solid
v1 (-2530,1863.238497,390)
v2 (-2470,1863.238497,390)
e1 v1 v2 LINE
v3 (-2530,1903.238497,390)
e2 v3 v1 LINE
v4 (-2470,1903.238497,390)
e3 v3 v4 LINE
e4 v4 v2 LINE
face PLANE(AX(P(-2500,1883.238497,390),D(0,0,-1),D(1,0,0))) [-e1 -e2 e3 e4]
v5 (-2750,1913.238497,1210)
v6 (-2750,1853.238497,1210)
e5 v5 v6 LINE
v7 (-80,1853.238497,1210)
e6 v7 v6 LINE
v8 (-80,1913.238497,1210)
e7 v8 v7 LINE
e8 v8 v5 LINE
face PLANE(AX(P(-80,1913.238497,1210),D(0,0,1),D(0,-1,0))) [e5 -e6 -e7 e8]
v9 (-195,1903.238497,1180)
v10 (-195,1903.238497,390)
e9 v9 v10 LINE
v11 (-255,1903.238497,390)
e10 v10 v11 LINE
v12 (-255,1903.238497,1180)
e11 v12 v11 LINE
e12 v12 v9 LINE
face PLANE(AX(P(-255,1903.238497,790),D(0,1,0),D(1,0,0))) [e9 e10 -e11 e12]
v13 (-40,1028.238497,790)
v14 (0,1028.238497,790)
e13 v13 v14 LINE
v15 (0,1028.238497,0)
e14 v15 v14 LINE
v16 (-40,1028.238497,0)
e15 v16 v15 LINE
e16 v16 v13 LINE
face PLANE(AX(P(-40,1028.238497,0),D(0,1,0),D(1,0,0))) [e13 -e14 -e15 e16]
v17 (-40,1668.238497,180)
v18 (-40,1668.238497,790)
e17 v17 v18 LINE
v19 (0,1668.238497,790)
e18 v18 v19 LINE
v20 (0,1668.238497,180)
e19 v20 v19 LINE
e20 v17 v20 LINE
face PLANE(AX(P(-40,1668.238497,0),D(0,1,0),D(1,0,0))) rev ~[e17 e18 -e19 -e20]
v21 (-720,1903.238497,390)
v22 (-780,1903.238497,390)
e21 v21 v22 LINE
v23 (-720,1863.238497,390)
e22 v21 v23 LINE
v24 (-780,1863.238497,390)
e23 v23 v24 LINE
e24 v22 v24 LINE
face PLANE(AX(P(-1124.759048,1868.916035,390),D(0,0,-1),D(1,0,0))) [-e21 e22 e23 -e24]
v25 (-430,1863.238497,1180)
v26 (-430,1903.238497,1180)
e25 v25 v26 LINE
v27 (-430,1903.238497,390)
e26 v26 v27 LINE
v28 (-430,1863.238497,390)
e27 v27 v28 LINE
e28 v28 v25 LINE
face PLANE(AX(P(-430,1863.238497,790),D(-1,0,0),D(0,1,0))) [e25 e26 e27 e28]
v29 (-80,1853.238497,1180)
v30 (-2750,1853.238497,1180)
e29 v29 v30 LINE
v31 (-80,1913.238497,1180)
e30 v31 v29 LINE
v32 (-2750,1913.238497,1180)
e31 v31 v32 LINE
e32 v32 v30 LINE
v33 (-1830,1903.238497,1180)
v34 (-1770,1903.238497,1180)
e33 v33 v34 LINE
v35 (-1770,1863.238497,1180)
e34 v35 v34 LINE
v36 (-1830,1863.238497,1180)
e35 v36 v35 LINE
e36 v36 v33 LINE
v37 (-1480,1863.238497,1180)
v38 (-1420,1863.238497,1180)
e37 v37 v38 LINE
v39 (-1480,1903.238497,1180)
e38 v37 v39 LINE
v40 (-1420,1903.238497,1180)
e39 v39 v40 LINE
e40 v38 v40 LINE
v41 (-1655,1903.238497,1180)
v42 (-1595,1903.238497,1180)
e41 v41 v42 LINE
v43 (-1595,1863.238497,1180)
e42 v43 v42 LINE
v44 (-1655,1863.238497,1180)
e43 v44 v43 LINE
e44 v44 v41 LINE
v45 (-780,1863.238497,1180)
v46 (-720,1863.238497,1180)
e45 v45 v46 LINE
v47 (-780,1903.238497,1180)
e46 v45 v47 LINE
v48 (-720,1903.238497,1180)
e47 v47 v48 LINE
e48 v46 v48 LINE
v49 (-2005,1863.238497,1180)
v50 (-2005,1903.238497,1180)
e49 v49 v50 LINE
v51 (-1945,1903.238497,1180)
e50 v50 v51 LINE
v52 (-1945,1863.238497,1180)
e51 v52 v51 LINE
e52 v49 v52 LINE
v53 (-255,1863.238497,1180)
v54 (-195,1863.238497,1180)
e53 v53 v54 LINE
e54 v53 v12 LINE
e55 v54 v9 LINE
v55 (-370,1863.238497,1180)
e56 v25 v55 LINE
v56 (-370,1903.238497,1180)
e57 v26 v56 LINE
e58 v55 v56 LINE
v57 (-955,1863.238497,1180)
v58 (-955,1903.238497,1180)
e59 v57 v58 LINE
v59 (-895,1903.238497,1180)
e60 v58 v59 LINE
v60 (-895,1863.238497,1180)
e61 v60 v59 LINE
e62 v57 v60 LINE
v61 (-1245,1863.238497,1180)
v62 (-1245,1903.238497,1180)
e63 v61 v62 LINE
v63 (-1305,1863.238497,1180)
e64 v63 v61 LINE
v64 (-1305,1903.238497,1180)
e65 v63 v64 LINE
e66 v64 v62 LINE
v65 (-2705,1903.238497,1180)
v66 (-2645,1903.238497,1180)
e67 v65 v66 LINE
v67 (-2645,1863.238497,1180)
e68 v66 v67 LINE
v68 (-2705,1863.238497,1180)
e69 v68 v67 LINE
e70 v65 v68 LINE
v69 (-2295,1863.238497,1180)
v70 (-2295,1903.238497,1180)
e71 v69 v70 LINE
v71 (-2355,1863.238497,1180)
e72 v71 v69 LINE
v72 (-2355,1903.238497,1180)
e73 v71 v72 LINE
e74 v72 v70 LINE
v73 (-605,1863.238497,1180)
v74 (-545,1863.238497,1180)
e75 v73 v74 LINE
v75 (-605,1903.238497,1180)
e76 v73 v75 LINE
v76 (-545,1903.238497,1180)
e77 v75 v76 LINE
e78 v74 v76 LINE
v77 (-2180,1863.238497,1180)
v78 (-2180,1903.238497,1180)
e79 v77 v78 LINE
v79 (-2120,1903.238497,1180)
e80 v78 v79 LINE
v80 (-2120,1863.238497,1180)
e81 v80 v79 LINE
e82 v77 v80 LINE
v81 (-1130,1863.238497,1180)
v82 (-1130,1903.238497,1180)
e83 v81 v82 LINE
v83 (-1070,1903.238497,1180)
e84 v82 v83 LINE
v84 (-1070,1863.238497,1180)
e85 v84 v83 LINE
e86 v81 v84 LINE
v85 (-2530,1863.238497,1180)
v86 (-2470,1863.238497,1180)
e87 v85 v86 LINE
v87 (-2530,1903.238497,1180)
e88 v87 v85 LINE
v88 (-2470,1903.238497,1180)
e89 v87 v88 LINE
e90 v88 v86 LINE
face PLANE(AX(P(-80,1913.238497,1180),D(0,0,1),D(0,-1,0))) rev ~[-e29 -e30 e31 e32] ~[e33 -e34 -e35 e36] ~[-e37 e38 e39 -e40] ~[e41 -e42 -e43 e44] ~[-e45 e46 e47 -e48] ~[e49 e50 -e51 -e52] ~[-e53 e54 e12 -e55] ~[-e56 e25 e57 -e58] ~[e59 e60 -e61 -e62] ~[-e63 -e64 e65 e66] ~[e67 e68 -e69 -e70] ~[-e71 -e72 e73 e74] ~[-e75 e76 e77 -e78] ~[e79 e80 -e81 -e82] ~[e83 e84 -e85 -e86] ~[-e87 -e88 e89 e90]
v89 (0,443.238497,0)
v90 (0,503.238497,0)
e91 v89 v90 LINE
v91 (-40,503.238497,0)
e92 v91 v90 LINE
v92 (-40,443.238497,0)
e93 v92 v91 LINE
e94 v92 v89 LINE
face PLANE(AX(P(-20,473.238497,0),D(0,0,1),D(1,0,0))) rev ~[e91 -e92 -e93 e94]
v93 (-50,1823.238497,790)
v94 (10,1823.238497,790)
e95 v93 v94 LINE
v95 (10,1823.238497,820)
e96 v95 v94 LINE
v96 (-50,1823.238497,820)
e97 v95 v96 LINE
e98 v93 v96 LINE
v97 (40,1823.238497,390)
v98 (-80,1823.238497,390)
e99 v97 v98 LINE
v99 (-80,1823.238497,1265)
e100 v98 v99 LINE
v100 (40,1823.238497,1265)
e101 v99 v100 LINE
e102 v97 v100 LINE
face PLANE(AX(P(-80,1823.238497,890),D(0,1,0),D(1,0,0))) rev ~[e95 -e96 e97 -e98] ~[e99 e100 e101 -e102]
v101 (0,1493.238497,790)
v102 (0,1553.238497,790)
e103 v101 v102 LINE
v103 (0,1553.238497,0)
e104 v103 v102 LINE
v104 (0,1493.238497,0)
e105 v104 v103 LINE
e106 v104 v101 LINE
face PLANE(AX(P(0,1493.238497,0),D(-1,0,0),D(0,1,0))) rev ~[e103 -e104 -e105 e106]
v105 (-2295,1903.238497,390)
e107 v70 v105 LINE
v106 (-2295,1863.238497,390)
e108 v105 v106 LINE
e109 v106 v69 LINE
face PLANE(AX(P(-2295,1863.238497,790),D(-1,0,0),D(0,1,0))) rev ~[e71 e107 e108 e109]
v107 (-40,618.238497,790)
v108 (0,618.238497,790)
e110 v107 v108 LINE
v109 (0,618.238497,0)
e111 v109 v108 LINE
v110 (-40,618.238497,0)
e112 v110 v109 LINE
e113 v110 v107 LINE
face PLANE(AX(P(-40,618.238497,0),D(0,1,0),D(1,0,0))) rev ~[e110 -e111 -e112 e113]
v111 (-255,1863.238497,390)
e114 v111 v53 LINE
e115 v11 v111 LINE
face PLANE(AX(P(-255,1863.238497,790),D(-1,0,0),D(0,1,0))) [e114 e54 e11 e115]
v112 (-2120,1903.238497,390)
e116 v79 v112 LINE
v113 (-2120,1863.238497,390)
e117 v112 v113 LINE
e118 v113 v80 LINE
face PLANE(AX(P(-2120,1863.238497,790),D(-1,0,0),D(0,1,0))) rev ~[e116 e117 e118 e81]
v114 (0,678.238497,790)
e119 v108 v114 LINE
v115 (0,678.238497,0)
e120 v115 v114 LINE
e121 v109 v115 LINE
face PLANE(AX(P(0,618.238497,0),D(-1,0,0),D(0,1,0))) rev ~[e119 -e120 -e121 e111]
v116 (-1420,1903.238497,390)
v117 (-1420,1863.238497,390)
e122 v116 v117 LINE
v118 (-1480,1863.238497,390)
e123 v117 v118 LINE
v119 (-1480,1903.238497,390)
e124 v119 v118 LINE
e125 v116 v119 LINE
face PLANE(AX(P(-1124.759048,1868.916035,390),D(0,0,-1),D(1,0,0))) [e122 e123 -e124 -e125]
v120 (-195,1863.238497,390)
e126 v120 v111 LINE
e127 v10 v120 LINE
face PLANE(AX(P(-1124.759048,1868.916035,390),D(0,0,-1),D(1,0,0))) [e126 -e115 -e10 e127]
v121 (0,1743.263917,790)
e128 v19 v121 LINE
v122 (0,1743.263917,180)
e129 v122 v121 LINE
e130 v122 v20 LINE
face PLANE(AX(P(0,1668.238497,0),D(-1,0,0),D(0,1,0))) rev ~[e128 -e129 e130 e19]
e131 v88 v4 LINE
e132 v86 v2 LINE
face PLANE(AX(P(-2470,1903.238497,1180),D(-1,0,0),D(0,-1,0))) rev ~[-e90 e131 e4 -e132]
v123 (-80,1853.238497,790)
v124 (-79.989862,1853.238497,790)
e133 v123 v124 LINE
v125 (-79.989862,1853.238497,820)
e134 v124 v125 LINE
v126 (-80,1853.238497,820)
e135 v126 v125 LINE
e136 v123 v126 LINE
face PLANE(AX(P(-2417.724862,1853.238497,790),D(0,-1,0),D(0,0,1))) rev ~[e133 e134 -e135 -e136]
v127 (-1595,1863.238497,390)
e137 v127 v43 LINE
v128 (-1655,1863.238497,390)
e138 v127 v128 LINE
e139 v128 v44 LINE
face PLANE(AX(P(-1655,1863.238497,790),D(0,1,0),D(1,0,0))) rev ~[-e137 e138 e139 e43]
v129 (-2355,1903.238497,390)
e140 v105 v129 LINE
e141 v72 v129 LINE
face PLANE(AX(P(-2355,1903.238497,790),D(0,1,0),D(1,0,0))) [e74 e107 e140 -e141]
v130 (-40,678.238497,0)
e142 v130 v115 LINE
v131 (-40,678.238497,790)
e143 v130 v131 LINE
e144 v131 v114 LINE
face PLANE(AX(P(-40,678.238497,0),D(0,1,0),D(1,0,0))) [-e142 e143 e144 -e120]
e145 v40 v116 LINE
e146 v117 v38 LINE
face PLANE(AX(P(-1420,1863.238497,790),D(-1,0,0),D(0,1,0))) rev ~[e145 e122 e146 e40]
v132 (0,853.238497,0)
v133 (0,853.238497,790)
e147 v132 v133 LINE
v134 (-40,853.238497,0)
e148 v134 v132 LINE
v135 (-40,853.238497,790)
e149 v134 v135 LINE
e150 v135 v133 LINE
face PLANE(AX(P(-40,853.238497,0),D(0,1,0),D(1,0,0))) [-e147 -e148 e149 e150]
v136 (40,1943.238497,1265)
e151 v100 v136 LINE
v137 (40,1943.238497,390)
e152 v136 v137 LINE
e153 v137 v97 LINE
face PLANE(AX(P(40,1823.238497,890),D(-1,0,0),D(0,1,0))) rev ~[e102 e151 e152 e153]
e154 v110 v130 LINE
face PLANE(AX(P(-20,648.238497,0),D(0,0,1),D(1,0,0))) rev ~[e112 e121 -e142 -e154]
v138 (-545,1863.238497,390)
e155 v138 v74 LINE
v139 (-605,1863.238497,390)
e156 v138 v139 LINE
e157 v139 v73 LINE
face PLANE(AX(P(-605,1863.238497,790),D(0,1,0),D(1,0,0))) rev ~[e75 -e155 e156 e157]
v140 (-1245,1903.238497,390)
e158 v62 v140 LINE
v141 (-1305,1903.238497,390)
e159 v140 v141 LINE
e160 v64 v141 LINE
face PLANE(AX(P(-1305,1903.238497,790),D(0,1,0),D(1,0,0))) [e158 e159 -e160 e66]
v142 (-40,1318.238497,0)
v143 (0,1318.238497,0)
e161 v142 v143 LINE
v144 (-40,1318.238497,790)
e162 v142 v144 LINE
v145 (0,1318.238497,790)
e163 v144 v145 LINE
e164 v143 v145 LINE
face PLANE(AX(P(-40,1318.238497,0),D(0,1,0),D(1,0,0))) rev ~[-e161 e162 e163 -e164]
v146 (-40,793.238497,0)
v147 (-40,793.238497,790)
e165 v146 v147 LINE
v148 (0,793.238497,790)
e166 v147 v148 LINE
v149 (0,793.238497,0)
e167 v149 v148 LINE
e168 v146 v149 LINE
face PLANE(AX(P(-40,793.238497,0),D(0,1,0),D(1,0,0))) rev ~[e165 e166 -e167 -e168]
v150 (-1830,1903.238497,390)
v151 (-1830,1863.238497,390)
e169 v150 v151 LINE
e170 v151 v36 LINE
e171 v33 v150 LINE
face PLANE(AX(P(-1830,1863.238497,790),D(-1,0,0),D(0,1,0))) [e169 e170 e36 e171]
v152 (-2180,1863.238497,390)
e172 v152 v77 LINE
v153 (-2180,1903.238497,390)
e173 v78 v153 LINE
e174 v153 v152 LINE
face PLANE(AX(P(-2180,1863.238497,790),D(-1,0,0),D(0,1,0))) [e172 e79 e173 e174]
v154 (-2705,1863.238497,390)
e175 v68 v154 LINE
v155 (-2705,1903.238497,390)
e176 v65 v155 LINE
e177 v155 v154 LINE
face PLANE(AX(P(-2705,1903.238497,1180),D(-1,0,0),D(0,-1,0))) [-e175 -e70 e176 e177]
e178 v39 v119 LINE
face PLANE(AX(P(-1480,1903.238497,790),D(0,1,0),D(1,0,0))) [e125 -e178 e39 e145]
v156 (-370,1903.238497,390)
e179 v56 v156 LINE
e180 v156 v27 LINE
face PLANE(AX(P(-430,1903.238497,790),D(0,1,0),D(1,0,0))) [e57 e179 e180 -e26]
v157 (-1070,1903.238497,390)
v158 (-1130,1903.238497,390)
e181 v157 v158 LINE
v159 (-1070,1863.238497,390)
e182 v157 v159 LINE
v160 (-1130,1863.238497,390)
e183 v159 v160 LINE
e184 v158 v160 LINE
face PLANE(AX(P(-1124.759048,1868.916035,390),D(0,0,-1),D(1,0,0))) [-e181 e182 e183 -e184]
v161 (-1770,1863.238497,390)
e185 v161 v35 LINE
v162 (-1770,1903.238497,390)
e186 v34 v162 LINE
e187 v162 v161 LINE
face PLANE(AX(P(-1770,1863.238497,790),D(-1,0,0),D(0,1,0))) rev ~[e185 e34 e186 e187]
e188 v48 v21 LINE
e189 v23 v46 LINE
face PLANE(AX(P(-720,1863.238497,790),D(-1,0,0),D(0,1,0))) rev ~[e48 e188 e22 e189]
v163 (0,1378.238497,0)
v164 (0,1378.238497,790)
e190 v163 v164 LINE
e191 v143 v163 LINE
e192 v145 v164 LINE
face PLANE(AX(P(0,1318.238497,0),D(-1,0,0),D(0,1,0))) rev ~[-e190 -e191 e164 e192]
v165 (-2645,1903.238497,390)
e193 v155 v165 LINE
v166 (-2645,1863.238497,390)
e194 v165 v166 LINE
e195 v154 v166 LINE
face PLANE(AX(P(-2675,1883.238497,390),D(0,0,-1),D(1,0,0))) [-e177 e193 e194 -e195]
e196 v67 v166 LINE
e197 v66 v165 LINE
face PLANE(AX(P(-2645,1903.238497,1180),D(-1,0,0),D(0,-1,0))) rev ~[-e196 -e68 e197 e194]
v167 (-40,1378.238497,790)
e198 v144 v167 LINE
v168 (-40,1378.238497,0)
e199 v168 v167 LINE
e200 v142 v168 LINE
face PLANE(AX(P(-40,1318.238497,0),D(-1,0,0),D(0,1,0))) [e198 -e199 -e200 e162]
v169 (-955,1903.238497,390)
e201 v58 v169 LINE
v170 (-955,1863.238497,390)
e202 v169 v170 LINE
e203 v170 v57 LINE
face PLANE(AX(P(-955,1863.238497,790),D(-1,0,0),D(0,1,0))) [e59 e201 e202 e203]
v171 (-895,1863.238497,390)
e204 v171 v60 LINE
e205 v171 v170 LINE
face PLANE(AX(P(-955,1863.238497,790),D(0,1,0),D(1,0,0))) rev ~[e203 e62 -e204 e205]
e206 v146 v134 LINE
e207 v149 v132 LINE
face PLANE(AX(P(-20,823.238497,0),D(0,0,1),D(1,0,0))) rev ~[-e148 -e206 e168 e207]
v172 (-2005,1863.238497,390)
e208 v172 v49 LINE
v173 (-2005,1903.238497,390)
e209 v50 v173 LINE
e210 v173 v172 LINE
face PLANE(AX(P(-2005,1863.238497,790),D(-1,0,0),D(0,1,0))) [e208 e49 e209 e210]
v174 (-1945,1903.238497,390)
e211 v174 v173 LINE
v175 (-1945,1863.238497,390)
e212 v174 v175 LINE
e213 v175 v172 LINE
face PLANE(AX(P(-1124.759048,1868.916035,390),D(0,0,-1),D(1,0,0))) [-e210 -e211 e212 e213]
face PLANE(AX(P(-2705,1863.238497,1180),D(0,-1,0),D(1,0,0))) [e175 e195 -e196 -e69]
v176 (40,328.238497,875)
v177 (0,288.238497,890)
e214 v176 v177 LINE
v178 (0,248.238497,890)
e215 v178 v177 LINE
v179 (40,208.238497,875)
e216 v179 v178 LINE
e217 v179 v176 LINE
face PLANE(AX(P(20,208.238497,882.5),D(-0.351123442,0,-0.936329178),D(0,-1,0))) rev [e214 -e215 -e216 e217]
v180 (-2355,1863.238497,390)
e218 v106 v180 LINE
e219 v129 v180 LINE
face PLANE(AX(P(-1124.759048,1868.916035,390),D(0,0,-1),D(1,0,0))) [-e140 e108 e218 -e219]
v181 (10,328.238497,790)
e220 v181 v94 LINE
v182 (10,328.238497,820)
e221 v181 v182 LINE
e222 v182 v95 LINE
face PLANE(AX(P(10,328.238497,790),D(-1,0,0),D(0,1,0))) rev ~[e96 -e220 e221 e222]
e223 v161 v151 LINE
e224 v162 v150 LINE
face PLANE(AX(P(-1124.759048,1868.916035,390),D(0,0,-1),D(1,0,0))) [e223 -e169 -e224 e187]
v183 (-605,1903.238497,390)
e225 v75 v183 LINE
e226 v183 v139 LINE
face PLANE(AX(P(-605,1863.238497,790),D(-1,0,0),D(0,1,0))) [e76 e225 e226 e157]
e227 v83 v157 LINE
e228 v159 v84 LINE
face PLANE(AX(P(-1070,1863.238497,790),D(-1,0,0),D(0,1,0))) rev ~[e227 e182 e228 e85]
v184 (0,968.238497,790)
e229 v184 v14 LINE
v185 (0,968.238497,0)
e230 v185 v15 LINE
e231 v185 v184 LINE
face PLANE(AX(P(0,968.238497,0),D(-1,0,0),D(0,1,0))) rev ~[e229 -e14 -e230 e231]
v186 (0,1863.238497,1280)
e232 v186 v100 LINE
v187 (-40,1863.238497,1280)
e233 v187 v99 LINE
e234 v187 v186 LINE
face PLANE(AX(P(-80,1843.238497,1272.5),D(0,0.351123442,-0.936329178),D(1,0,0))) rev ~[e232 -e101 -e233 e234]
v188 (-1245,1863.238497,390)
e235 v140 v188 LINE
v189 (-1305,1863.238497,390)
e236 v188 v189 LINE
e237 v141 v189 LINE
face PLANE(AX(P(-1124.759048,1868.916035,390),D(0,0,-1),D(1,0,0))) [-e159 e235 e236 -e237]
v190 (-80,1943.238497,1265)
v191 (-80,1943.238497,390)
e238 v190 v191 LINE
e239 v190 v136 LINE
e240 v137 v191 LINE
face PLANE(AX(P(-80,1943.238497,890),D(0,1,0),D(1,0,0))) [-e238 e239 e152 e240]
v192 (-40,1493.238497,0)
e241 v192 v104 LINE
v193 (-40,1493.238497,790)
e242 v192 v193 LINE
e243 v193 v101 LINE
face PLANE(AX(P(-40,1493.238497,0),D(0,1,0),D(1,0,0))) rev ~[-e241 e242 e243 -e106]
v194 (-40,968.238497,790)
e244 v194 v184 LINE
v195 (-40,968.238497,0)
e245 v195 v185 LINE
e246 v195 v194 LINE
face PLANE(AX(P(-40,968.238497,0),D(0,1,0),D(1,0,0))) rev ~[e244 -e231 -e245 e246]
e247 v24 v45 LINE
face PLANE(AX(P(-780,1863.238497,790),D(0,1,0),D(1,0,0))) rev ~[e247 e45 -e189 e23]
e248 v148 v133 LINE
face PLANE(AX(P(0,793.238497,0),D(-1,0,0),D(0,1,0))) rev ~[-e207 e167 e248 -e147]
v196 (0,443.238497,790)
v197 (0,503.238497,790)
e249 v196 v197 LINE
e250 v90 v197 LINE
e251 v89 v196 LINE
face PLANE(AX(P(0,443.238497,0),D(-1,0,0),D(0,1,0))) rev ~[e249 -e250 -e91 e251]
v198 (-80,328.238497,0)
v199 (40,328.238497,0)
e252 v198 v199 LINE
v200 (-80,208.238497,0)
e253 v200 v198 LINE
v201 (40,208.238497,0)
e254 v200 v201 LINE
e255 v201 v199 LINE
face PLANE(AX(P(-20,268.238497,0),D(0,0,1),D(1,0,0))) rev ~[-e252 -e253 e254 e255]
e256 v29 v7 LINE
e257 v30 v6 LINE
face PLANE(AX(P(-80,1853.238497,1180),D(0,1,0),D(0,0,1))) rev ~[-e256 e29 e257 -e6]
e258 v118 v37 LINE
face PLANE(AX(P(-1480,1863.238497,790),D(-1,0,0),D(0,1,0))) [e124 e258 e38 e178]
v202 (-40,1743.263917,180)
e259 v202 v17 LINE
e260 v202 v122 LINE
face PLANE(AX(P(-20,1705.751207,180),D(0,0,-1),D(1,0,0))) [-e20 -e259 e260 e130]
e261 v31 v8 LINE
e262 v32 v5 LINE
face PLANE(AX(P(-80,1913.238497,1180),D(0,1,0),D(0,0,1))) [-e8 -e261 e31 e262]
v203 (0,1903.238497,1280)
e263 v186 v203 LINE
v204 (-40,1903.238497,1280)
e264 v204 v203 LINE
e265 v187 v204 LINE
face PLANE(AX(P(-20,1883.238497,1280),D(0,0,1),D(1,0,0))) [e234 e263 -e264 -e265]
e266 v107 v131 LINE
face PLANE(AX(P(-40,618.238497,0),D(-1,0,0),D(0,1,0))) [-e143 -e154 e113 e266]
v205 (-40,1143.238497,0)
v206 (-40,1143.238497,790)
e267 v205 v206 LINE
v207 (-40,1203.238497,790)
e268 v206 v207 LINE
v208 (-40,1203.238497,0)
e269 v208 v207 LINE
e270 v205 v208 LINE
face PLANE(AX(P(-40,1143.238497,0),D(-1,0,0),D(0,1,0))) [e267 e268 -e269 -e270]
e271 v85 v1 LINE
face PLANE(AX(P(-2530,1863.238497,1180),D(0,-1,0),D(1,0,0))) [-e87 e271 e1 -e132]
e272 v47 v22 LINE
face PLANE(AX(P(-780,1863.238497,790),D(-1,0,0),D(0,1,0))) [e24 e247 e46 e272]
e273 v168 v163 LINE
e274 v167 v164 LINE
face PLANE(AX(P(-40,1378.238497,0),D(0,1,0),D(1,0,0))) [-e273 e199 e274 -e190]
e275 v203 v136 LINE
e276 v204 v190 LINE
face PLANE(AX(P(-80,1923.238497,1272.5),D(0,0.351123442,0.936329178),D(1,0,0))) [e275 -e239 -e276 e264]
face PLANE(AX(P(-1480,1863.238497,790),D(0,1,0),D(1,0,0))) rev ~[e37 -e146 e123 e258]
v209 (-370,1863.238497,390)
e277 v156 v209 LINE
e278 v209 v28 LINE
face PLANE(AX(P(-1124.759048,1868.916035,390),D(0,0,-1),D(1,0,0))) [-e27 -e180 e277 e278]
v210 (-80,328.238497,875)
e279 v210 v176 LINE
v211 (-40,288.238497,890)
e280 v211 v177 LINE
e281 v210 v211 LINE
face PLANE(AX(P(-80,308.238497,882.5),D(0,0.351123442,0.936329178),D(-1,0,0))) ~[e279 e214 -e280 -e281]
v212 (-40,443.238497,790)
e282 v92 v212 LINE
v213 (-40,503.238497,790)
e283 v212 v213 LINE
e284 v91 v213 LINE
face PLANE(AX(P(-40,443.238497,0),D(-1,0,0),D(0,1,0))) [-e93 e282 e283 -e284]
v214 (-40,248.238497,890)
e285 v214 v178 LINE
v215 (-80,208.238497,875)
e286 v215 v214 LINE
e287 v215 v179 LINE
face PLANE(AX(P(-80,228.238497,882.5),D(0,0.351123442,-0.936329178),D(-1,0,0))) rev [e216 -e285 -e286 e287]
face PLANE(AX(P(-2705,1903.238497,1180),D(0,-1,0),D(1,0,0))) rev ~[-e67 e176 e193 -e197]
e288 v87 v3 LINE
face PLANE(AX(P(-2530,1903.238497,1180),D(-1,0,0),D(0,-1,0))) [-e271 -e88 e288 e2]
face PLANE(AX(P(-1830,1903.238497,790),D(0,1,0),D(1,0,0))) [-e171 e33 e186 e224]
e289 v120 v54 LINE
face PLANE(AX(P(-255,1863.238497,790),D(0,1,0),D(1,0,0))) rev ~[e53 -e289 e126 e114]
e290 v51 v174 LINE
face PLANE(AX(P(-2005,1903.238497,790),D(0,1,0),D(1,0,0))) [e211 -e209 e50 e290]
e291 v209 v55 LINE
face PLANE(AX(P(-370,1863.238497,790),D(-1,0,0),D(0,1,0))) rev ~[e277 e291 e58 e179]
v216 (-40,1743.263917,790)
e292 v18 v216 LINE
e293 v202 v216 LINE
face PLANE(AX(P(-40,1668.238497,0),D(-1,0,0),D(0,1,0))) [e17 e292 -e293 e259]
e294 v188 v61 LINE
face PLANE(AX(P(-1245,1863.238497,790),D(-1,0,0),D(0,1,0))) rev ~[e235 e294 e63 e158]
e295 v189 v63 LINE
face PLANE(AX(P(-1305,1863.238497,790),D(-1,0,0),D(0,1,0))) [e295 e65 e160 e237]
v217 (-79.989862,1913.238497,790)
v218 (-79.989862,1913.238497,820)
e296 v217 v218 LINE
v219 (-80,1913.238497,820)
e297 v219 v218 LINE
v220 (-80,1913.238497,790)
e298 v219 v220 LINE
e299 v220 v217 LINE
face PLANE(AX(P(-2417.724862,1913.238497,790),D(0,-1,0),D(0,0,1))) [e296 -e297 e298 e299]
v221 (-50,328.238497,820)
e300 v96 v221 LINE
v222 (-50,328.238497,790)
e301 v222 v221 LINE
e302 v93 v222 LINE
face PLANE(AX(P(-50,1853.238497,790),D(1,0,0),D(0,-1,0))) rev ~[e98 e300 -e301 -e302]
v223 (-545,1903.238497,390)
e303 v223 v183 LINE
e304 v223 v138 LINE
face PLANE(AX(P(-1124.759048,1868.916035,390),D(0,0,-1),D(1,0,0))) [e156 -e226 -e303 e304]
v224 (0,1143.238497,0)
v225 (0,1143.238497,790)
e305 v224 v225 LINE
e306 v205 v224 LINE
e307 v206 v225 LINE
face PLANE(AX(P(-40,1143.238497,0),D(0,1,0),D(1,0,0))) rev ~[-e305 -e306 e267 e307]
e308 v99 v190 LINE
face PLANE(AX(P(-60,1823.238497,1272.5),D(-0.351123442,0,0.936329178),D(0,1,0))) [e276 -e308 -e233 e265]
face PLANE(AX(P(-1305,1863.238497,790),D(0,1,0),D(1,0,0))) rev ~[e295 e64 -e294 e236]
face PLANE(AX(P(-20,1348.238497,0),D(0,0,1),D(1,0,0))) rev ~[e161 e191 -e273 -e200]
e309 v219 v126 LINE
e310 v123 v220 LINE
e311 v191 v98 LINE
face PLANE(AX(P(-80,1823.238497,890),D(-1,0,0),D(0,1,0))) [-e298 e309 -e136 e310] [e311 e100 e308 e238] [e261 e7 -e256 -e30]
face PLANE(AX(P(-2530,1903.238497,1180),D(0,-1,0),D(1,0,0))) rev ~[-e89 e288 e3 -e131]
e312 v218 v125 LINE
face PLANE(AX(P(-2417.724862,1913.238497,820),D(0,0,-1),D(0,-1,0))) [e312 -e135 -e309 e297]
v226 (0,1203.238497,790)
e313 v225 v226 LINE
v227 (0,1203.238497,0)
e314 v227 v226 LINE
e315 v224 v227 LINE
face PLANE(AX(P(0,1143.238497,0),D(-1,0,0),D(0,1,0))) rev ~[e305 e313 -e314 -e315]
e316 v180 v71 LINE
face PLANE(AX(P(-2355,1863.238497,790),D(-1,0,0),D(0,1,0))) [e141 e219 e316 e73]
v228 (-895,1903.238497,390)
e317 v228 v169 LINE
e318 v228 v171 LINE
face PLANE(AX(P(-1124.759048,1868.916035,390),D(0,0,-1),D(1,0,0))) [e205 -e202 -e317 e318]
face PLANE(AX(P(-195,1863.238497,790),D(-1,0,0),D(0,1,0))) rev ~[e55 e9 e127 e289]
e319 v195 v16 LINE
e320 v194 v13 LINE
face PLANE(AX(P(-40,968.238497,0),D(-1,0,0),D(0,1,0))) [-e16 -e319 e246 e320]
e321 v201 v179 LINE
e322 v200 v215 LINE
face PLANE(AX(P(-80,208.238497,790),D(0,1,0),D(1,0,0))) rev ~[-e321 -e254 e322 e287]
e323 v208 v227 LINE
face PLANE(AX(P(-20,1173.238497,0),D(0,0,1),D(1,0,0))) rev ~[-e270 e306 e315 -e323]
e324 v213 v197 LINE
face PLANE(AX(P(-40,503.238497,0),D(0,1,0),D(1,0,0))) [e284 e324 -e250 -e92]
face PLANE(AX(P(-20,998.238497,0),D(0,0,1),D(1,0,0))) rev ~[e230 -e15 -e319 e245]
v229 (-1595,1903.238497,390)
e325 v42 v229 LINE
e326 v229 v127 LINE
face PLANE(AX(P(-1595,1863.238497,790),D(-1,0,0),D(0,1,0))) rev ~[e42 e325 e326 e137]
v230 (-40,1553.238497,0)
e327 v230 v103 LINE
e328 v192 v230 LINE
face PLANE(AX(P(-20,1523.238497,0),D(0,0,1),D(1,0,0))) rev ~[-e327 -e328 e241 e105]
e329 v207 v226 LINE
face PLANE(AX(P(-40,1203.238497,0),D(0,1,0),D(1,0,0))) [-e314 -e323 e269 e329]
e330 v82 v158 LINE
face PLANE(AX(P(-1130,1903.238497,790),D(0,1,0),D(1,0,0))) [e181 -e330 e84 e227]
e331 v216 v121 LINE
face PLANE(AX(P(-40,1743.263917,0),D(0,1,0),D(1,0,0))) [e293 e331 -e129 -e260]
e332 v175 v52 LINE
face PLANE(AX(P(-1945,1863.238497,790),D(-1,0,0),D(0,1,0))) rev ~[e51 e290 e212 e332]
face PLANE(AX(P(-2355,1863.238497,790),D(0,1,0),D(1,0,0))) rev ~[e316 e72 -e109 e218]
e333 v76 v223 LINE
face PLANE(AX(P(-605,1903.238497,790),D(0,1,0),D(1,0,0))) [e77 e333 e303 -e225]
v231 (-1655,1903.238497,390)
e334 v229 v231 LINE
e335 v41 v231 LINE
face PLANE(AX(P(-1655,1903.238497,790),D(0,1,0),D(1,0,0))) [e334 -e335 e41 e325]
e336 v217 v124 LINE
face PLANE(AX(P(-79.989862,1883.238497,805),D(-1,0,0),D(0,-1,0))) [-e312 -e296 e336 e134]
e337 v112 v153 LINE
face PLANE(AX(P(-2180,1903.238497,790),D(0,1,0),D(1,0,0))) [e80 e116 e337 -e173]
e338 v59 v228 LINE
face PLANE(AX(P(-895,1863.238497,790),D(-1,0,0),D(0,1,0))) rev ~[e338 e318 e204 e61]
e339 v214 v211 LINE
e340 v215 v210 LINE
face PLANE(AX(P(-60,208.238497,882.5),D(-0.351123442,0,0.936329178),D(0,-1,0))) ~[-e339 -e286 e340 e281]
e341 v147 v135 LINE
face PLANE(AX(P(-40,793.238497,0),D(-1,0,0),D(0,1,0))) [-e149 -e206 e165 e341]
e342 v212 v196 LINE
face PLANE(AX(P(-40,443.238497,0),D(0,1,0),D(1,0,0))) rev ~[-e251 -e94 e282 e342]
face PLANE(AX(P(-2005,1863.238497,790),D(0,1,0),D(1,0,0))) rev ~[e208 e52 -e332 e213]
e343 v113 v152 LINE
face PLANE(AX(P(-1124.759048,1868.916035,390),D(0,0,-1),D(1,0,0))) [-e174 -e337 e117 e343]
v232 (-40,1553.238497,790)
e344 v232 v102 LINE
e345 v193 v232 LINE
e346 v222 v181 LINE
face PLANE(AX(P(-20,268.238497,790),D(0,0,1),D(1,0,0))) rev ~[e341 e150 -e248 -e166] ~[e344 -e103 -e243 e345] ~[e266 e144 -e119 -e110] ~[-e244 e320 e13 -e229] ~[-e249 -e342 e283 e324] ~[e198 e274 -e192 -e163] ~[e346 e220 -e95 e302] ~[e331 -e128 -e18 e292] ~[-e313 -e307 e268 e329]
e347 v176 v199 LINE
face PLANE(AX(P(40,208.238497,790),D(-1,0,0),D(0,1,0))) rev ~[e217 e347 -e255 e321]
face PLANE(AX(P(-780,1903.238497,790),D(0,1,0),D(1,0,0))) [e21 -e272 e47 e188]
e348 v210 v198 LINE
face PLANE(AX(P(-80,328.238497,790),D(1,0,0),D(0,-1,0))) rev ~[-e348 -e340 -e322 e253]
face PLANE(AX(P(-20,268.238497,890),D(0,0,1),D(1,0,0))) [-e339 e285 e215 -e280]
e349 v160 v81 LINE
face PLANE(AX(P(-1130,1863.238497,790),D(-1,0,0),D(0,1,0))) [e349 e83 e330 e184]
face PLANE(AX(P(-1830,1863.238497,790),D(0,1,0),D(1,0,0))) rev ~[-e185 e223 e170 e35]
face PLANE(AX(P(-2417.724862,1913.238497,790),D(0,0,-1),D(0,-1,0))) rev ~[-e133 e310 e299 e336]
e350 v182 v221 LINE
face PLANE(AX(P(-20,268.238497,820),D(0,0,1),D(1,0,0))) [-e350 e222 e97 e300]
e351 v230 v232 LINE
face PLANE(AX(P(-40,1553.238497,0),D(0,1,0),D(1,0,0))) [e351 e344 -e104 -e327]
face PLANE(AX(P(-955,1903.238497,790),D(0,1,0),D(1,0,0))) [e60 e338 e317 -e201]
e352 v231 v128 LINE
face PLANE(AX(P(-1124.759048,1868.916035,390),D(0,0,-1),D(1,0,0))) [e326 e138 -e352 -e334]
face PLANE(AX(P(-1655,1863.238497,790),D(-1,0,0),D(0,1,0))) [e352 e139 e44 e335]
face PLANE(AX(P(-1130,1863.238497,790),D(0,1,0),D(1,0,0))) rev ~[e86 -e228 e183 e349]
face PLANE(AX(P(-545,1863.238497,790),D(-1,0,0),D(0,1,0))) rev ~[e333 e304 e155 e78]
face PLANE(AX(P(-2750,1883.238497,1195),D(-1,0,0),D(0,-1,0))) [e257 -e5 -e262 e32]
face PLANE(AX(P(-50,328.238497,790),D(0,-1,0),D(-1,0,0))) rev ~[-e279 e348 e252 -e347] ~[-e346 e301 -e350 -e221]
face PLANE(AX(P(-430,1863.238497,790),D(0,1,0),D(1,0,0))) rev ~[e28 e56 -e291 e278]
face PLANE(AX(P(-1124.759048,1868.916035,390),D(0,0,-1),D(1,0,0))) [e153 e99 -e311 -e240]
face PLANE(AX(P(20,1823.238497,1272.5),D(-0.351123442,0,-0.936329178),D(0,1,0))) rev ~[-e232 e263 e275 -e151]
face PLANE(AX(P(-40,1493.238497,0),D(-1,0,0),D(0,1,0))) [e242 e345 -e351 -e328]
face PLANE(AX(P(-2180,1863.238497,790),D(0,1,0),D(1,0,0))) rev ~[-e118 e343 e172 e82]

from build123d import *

# Parameters (mm, degrees)
F0_W      = 60
F0_H      = 40
F1_DEPTH  = 790
F0_W_2    = 40
F0_H_2    = 75.0254201889
F0_H_3    = 60
F0_W_3    = 120
F0_H_4    = 120
F3_DEPTH  = 30
F4_W      = 120
F4_H      = 120
F5_DEPTH  = 100
F6_SIZE2  = 40
F6_SIZE   = 15
F8_W      = 2854.2961788441
F8_H      = 160
F8_W_2    = 60
F8_H_2    = 40
F9_DEPTH  = 390
F10_W     = 40
F10_H     = 75.0254201889
F11_DEPTH = 180
F12_W     = 120
F12_H     = 120
F13_DEPTH = 390
F14_SIZE2 = 15
F14_SIZE  = 40
F15_W     = 60
F15_H     = 30
F16_DEPTH = 2337.735
F17_W     = 60
F17_H     = 40
F18_DEPTH = 390
F19_W     = 60
F19_H     = 30
F20_DEPTH = 2670
F21_W     = 60
F21_H     = 40
F22_DEPTH = 790


with BuildPart() as f1:
    # F0 (on Top) → F1 (new body)
    with BuildSketch(Plane.XY):
        with Locations((-2325, 1883.2384967804)):
            Rectangle(F0_W, F0_H)
    extrude(amount=F1_DEPTH)


with BuildPart() as f1b:
    # F0 (on Top) → F1, piece 2 (new body)
    with BuildSketch(Plane.XY):
        with Locations((-2150, 1883.2384967804)):
            Rectangle(F0_W, F0_H)
    extrude(amount=F1_DEPTH)


with BuildPart() as f1c:
    # F0 (on Top) → F1, piece 3 (new body)
    with BuildSketch(Plane.XY):
        with Locations((-1975, 1883.2384967804)):
            Rectangle(F0_W, F0_H)
    extrude(amount=F1_DEPTH)


with BuildPart() as f1d:
    # F0 (on Top) → F1, piece 4 (new body)
    with BuildSketch(Plane.XY):
        with Locations((-1800, 1883.2384967804)):
            Rectangle(F0_W, F0_H)
    extrude(amount=F1_DEPTH)


with BuildPart() as f1e:
    # F0 (on Top) → F1, piece 5 (new body)
    with BuildSketch(Plane.XY):
        with Locations((-1625, 1883.2384967804)):
            Rectangle(F0_W, F0_H)
    extrude(amount=F1_DEPTH)


with BuildPart() as f1f:
    # F0 (on Top) → F1, piece 6 (new body)
    with BuildSketch(Plane.XY):
        with Locations((-1450, 1883.2384967804)):
            Rectangle(F0_W, F0_H)
    extrude(amount=F1_DEPTH)


with BuildPart() as f1g:
    # F0 (on Top) → F1, piece 7 (new body)
    with BuildSketch(Plane.XY):
        with Locations((-1275, 1883.2384967804)):
            Rectangle(F0_W, F0_H)
    extrude(amount=F1_DEPTH)


with BuildPart() as f1h:
    # F0 (on Top) → F1, piece 8 (new body)
    with BuildSketch(Plane.XY):
        with Locations((-1100, 1883.2384967804)):
            Rectangle(F0_W, F0_H)
    extrude(amount=F1_DEPTH)


with BuildPart() as f1i:
    # F0 (on Top) → F1, piece 9 (new body)
    with BuildSketch(Plane.XY):
        with Locations((-925, 1883.2384967804)):
            Rectangle(F0_W, F0_H)
    extrude(amount=F1_DEPTH)


with BuildPart() as f1j:
    # F0 (on Top) → F1, piece 10 (new body)
    with BuildSketch(Plane.XY):
        with Locations((-750, 1883.2384967804)):
            Rectangle(F0_W, F0_H)
    extrude(amount=F1_DEPTH)


with BuildPart() as f1k:
    # F0 (on Top) → F1, piece 11 (new body)
    with BuildSketch(Plane.XY):
        with Locations((-575, 1883.2384967804)):
            Rectangle(F0_W, F0_H)
    extrude(amount=F1_DEPTH)


with BuildPart() as f1l:
    # F0 (on Top) → F1, piece 12 (new body)
    with BuildSketch(Plane.XY):
        with Locations((-400, 1883.2384967804)):
            Rectangle(F0_W, F0_H)
    extrude(amount=F1_DEPTH)


with BuildPart() as f1m:
    # F0 (on Top) → F1, piece 13 (new body)
    with BuildSketch(Plane.XY):
        with Locations((-225, 1883.2384967804)):
            Rectangle(F0_W, F0_H)
    extrude(amount=F1_DEPTH)


with BuildPart() as f1n:
    # F0 (on Top) → F1, piece 14 (new body)
    with BuildSketch(Plane.XY):
        with Locations((-20, 1705.7512068748)):
            Rectangle(F0_W_2, F0_H_2)
    extrude(amount=F1_DEPTH)


with BuildPart() as f1o:
    # F0 (on Top) → F1, piece 15 (new body)
    with BuildSketch(Plane.XY):
        with Locations((-20, 1523.2384967804)):
            Rectangle(F0_W_2, F0_H_3)
    extrude(amount=F1_DEPTH)


with BuildPart() as f1p:
    # F0 (on Top) → F1, piece 16 (new body)
    with BuildSketch(Plane.XY):
        with Locations((-20, 1348.2384967804)):
            Rectangle(F0_W_2, F0_H_3)
    extrude(amount=F1_DEPTH)


with BuildPart() as f1q:
    # F0 (on Top) → F1, piece 17 (new body)
    with BuildSketch(Plane.XY):
        with Locations((-20, 1173.2384967804)):
            Rectangle(F0_W_2, F0_H_3)
    extrude(amount=F1_DEPTH)


with BuildPart() as f1r:
    # F0 (on Top) → F1, piece 18 (new body)
    with BuildSketch(Plane.XY):
        with Locations((-20, 998.2384967804)):
            Rectangle(F0_W_2, F0_H_3)
    extrude(amount=F1_DEPTH)


with BuildPart() as f1s:
    # F0 (on Top) → F1, piece 19 (new body)
    with BuildSketch(Plane.XY):
        with Locations((-20, 823.2384967804)):
            Rectangle(F0_W_2, F0_H_3)
    extrude(amount=F1_DEPTH)


with BuildPart() as f1t:
    # F0 (on Top) → F1, piece 20 (new body)
    with BuildSketch(Plane.XY):
        with Locations((-20, 648.2384967804)):
            Rectangle(F0_W_2, F0_H_3)
    extrude(amount=F1_DEPTH)


with BuildPart() as f1u:
    # F0 (on Top) → F1, piece 21 (new body)
    with BuildSketch(Plane.XY):
        with Locations((-20, 473.2384967804)):
            Rectangle(F0_W_2, F0_H_3)
    extrude(amount=F1_DEPTH)


with BuildPart() as f1v:
    # F0 (on Top) → F1, piece 22 (new body)
    with BuildSketch(Plane.XY):
        with Locations((-20, 1883.2384967804)):
            Rectangle(F0_W_3, F0_H_4)
    extrude(amount=F1_DEPTH)


with BuildPart() as f1w:
    # F0 (on Top) → F1, piece 23 (new body)
    with BuildSketch(Plane.XY):
        with Locations((-20, 268.2384967804)):
            Rectangle(F0_W_3, F0_H_4)
    extrude(amount=F1_DEPTH)


with BuildPart() as f3:
    # F2 (on face) → F3 (new body)
    with BuildSketch(Plane.XY.offset(790)):
        Polygon((-50, 328.2384967804), (-80, 328.2384967804), (-80, 208.2384967804), (40, 208.2384967804), (40, 328.2384967804), (10, 328.2384967804), align=None)
        Polygon((-50, 1853.2384967804), (-50, 328.2384967804), (10, 328.2384967804), (10, 1913.2384967804), (-2417.7248619497, 1913.2384967804), (-2417.7248619497, 1853.2384967804), align=None)
    extrude(amount=F3_DEPTH)


with BuildPart() as f5:
    # F4 (on face) → F5 (new body)
    with BuildSketch(Plane.XY.offset(790)):
        with Locations((-20, 1883.2384967804)):
            Rectangle(F4_W, F4_H)
    extrude(amount=F5_DEPTH)


with BuildPart() as f5b:
    # F4 (on face) → F5, piece 2 (new body)
    with BuildSketch(Plane.XY.offset(790)):
        with Locations((-20, 268.2384967804)):
            Rectangle(F4_W, F4_H)
    extrude(amount=F5_DEPTH)

    # F6
    f6_edges = [f5b.edges().sort_by_distance(p)[0] for p in [
        (40, 268.238497, 890),
        (-20, 208.238497, 890),
        (-80, 268.238497, 890),
        (-20, 328.238497, 890),
    ]]
    chamfer(f6_edges, length=F6_SIZE, length2=F6_SIZE2)


with BuildPart() as f1w_1:
    add(f1w.part)

    # F7: union F1v, F1u, F1t, F1s, F1r, F1q, F1p, F1o, F1n, F1m, F1l, F1k, F1j, F1i, F1h, F1g, F1f, F1e, F1d, F1c, F1b, F1, F3, F5b, F5
    add(f1v.part)
    add(f1u.part)
    add(f1t.part)
    add(f1s.part)
    add(f1r.part)
    add(f1q.part)
    add(f1p.part)
    add(f1o.part)
    add(f1n.part)
    add(f1m.part)
    add(f1l.part)
    add(f1k.part)
    add(f1j.part)
    add(f1i.part)
    add(f1h.part)
    add(f1g.part)
    add(f1f.part)
    add(f1e.part)
    add(f1d.part)
    add(f1c.part)
    add(f1b.part)
    add(f1.part)
    add(f3.part)
    add(f5b.part)
    add(f5.part)

    # F8 (on face) → F9 (cut)
    with BuildSketch(Plane(origin=(0, 0, 0), x_dir=(1, 0, 0), z_dir=(0, 0, -1))):
        with Locations((-1124.7590482235, -1868.9160346985)):
            Rectangle(F8_W, F8_H)
        with Locations((-2325, -1883.2384967804)):
            Rectangle(F8_W_2, F8_H_2, mode=Mode.SUBTRACT)
        with Locations((-2325, -1883.2384967804)):
            Rectangle(F8_W_2, F8_H_2)
    extrude(amount=-F9_DEPTH, mode=Mode.SUBTRACT)

    # F10 (on face) → F11 (cut)
    with BuildSketch(Plane(origin=(0, 0, 0), x_dir=(1, 0, 0), z_dir=(0, 0, -1))):
        with Locations((-20, -1705.7512068748)):
            Rectangle(F10_W, F10_H)
    extrude(amount=-F11_DEPTH, mode=Mode.SUBTRACT)

    # F12 (on face) → F13 (join)
    with BuildSketch(Plane.XY.offset(890)):
        with Locations((-20, 1883.2384967804)):
            Rectangle(F12_W, F12_H)
    extrude(amount=F13_DEPTH)

    # F14
    f14_edges = [f1w_1.edges().sort_by_distance(p)[0] for p in [
        (-20, 1823.238497, 1280),
        (-80, 1883.238497, 1280),
        (-20, 1943.238497, 1280),
        (40, 1883.238497, 1280),
    ]]
    f14_side = f1w_1.faces().sort_by_distance((-20, 1883.238497, 1280))[0]
    chamfer(f14_edges, length=F14_SIZE, length2=F14_SIZE2, reference=f14_side)

    # F15 (on face) → F16 (cut)
    with BuildSketch(Plane(origin=(-2417.7248619497, 0, 0), x_dir=(0, -1, 0), z_dir=(-1, 0, 0))):
        with Locations((-1883.2384967804, 805)):
            Rectangle(F15_W, F15_H)
    extrude(amount=-F16_DEPTH, mode=Mode.SUBTRACT)

    # F17 (on face) → F18 (join)
    with BuildSketch(Plane.XY.offset(790)):
        with Locations((-2325, 1883.2384967804)):
            Rectangle(F17_W, F17_H)
        with Locations((-2150, 1883.2384967804)):
            Rectangle(F17_W, F17_H)
        with Locations((-1975, 1883.2384967804)):
            Rectangle(F17_W, F17_H)
        with Locations((-1800, 1883.2384967804)):
            Rectangle(F17_W, F17_H)
        with Locations((-1625, 1883.2384967804)):
            Rectangle(F17_W, F17_H)
        with Locations((-1450, 1883.2384967804)):
            Rectangle(F17_W, F17_H)
        with Locations((-1275, 1883.2384967804)):
            Rectangle(F17_W, F17_H)
        with Locations((-1100, 1883.2384967804)):
            Rectangle(F17_W, F17_H)
        with Locations((-925, 1883.2384967804)):
            Rectangle(F17_W, F17_H)
        with Locations((-750, 1883.2384967804)):
            Rectangle(F17_W, F17_H)
        with Locations((-575, 1883.2384967804)):
            Rectangle(F17_W, F17_H)
        with Locations((-400, 1883.2384967804)):
            Rectangle(F17_W, F17_H)
        with Locations((-225, 1883.2384967804)):
            Rectangle(F17_W, F17_H)
    extrude(amount=F18_DEPTH)

    # F19 (on face) → F20 (join)
    with BuildSketch(Plane(origin=(-80, 0, 0), x_dir=(0, -1, 0), z_dir=(-1, 0, 0))):
        with Locations((-1883.2384967804, 1195)):
            Rectangle(F19_W, F19_H)
    extrude(amount=F20_DEPTH)

    # F21 (on face) → F22 (join)
    with BuildSketch(Plane(origin=(0, 0, 1180), x_dir=(1, 0, 0), z_dir=(0, 0, -1))):
        with Locations((-2675, -1883.2384967804)):
            Rectangle(F21_W, F21_H)
        with Locations((-2500, -1883.2384967804)):
            Rectangle(F21_W, F21_H)
    extrude(amount=F22_DEPTH)


solid = f1w_1.part
